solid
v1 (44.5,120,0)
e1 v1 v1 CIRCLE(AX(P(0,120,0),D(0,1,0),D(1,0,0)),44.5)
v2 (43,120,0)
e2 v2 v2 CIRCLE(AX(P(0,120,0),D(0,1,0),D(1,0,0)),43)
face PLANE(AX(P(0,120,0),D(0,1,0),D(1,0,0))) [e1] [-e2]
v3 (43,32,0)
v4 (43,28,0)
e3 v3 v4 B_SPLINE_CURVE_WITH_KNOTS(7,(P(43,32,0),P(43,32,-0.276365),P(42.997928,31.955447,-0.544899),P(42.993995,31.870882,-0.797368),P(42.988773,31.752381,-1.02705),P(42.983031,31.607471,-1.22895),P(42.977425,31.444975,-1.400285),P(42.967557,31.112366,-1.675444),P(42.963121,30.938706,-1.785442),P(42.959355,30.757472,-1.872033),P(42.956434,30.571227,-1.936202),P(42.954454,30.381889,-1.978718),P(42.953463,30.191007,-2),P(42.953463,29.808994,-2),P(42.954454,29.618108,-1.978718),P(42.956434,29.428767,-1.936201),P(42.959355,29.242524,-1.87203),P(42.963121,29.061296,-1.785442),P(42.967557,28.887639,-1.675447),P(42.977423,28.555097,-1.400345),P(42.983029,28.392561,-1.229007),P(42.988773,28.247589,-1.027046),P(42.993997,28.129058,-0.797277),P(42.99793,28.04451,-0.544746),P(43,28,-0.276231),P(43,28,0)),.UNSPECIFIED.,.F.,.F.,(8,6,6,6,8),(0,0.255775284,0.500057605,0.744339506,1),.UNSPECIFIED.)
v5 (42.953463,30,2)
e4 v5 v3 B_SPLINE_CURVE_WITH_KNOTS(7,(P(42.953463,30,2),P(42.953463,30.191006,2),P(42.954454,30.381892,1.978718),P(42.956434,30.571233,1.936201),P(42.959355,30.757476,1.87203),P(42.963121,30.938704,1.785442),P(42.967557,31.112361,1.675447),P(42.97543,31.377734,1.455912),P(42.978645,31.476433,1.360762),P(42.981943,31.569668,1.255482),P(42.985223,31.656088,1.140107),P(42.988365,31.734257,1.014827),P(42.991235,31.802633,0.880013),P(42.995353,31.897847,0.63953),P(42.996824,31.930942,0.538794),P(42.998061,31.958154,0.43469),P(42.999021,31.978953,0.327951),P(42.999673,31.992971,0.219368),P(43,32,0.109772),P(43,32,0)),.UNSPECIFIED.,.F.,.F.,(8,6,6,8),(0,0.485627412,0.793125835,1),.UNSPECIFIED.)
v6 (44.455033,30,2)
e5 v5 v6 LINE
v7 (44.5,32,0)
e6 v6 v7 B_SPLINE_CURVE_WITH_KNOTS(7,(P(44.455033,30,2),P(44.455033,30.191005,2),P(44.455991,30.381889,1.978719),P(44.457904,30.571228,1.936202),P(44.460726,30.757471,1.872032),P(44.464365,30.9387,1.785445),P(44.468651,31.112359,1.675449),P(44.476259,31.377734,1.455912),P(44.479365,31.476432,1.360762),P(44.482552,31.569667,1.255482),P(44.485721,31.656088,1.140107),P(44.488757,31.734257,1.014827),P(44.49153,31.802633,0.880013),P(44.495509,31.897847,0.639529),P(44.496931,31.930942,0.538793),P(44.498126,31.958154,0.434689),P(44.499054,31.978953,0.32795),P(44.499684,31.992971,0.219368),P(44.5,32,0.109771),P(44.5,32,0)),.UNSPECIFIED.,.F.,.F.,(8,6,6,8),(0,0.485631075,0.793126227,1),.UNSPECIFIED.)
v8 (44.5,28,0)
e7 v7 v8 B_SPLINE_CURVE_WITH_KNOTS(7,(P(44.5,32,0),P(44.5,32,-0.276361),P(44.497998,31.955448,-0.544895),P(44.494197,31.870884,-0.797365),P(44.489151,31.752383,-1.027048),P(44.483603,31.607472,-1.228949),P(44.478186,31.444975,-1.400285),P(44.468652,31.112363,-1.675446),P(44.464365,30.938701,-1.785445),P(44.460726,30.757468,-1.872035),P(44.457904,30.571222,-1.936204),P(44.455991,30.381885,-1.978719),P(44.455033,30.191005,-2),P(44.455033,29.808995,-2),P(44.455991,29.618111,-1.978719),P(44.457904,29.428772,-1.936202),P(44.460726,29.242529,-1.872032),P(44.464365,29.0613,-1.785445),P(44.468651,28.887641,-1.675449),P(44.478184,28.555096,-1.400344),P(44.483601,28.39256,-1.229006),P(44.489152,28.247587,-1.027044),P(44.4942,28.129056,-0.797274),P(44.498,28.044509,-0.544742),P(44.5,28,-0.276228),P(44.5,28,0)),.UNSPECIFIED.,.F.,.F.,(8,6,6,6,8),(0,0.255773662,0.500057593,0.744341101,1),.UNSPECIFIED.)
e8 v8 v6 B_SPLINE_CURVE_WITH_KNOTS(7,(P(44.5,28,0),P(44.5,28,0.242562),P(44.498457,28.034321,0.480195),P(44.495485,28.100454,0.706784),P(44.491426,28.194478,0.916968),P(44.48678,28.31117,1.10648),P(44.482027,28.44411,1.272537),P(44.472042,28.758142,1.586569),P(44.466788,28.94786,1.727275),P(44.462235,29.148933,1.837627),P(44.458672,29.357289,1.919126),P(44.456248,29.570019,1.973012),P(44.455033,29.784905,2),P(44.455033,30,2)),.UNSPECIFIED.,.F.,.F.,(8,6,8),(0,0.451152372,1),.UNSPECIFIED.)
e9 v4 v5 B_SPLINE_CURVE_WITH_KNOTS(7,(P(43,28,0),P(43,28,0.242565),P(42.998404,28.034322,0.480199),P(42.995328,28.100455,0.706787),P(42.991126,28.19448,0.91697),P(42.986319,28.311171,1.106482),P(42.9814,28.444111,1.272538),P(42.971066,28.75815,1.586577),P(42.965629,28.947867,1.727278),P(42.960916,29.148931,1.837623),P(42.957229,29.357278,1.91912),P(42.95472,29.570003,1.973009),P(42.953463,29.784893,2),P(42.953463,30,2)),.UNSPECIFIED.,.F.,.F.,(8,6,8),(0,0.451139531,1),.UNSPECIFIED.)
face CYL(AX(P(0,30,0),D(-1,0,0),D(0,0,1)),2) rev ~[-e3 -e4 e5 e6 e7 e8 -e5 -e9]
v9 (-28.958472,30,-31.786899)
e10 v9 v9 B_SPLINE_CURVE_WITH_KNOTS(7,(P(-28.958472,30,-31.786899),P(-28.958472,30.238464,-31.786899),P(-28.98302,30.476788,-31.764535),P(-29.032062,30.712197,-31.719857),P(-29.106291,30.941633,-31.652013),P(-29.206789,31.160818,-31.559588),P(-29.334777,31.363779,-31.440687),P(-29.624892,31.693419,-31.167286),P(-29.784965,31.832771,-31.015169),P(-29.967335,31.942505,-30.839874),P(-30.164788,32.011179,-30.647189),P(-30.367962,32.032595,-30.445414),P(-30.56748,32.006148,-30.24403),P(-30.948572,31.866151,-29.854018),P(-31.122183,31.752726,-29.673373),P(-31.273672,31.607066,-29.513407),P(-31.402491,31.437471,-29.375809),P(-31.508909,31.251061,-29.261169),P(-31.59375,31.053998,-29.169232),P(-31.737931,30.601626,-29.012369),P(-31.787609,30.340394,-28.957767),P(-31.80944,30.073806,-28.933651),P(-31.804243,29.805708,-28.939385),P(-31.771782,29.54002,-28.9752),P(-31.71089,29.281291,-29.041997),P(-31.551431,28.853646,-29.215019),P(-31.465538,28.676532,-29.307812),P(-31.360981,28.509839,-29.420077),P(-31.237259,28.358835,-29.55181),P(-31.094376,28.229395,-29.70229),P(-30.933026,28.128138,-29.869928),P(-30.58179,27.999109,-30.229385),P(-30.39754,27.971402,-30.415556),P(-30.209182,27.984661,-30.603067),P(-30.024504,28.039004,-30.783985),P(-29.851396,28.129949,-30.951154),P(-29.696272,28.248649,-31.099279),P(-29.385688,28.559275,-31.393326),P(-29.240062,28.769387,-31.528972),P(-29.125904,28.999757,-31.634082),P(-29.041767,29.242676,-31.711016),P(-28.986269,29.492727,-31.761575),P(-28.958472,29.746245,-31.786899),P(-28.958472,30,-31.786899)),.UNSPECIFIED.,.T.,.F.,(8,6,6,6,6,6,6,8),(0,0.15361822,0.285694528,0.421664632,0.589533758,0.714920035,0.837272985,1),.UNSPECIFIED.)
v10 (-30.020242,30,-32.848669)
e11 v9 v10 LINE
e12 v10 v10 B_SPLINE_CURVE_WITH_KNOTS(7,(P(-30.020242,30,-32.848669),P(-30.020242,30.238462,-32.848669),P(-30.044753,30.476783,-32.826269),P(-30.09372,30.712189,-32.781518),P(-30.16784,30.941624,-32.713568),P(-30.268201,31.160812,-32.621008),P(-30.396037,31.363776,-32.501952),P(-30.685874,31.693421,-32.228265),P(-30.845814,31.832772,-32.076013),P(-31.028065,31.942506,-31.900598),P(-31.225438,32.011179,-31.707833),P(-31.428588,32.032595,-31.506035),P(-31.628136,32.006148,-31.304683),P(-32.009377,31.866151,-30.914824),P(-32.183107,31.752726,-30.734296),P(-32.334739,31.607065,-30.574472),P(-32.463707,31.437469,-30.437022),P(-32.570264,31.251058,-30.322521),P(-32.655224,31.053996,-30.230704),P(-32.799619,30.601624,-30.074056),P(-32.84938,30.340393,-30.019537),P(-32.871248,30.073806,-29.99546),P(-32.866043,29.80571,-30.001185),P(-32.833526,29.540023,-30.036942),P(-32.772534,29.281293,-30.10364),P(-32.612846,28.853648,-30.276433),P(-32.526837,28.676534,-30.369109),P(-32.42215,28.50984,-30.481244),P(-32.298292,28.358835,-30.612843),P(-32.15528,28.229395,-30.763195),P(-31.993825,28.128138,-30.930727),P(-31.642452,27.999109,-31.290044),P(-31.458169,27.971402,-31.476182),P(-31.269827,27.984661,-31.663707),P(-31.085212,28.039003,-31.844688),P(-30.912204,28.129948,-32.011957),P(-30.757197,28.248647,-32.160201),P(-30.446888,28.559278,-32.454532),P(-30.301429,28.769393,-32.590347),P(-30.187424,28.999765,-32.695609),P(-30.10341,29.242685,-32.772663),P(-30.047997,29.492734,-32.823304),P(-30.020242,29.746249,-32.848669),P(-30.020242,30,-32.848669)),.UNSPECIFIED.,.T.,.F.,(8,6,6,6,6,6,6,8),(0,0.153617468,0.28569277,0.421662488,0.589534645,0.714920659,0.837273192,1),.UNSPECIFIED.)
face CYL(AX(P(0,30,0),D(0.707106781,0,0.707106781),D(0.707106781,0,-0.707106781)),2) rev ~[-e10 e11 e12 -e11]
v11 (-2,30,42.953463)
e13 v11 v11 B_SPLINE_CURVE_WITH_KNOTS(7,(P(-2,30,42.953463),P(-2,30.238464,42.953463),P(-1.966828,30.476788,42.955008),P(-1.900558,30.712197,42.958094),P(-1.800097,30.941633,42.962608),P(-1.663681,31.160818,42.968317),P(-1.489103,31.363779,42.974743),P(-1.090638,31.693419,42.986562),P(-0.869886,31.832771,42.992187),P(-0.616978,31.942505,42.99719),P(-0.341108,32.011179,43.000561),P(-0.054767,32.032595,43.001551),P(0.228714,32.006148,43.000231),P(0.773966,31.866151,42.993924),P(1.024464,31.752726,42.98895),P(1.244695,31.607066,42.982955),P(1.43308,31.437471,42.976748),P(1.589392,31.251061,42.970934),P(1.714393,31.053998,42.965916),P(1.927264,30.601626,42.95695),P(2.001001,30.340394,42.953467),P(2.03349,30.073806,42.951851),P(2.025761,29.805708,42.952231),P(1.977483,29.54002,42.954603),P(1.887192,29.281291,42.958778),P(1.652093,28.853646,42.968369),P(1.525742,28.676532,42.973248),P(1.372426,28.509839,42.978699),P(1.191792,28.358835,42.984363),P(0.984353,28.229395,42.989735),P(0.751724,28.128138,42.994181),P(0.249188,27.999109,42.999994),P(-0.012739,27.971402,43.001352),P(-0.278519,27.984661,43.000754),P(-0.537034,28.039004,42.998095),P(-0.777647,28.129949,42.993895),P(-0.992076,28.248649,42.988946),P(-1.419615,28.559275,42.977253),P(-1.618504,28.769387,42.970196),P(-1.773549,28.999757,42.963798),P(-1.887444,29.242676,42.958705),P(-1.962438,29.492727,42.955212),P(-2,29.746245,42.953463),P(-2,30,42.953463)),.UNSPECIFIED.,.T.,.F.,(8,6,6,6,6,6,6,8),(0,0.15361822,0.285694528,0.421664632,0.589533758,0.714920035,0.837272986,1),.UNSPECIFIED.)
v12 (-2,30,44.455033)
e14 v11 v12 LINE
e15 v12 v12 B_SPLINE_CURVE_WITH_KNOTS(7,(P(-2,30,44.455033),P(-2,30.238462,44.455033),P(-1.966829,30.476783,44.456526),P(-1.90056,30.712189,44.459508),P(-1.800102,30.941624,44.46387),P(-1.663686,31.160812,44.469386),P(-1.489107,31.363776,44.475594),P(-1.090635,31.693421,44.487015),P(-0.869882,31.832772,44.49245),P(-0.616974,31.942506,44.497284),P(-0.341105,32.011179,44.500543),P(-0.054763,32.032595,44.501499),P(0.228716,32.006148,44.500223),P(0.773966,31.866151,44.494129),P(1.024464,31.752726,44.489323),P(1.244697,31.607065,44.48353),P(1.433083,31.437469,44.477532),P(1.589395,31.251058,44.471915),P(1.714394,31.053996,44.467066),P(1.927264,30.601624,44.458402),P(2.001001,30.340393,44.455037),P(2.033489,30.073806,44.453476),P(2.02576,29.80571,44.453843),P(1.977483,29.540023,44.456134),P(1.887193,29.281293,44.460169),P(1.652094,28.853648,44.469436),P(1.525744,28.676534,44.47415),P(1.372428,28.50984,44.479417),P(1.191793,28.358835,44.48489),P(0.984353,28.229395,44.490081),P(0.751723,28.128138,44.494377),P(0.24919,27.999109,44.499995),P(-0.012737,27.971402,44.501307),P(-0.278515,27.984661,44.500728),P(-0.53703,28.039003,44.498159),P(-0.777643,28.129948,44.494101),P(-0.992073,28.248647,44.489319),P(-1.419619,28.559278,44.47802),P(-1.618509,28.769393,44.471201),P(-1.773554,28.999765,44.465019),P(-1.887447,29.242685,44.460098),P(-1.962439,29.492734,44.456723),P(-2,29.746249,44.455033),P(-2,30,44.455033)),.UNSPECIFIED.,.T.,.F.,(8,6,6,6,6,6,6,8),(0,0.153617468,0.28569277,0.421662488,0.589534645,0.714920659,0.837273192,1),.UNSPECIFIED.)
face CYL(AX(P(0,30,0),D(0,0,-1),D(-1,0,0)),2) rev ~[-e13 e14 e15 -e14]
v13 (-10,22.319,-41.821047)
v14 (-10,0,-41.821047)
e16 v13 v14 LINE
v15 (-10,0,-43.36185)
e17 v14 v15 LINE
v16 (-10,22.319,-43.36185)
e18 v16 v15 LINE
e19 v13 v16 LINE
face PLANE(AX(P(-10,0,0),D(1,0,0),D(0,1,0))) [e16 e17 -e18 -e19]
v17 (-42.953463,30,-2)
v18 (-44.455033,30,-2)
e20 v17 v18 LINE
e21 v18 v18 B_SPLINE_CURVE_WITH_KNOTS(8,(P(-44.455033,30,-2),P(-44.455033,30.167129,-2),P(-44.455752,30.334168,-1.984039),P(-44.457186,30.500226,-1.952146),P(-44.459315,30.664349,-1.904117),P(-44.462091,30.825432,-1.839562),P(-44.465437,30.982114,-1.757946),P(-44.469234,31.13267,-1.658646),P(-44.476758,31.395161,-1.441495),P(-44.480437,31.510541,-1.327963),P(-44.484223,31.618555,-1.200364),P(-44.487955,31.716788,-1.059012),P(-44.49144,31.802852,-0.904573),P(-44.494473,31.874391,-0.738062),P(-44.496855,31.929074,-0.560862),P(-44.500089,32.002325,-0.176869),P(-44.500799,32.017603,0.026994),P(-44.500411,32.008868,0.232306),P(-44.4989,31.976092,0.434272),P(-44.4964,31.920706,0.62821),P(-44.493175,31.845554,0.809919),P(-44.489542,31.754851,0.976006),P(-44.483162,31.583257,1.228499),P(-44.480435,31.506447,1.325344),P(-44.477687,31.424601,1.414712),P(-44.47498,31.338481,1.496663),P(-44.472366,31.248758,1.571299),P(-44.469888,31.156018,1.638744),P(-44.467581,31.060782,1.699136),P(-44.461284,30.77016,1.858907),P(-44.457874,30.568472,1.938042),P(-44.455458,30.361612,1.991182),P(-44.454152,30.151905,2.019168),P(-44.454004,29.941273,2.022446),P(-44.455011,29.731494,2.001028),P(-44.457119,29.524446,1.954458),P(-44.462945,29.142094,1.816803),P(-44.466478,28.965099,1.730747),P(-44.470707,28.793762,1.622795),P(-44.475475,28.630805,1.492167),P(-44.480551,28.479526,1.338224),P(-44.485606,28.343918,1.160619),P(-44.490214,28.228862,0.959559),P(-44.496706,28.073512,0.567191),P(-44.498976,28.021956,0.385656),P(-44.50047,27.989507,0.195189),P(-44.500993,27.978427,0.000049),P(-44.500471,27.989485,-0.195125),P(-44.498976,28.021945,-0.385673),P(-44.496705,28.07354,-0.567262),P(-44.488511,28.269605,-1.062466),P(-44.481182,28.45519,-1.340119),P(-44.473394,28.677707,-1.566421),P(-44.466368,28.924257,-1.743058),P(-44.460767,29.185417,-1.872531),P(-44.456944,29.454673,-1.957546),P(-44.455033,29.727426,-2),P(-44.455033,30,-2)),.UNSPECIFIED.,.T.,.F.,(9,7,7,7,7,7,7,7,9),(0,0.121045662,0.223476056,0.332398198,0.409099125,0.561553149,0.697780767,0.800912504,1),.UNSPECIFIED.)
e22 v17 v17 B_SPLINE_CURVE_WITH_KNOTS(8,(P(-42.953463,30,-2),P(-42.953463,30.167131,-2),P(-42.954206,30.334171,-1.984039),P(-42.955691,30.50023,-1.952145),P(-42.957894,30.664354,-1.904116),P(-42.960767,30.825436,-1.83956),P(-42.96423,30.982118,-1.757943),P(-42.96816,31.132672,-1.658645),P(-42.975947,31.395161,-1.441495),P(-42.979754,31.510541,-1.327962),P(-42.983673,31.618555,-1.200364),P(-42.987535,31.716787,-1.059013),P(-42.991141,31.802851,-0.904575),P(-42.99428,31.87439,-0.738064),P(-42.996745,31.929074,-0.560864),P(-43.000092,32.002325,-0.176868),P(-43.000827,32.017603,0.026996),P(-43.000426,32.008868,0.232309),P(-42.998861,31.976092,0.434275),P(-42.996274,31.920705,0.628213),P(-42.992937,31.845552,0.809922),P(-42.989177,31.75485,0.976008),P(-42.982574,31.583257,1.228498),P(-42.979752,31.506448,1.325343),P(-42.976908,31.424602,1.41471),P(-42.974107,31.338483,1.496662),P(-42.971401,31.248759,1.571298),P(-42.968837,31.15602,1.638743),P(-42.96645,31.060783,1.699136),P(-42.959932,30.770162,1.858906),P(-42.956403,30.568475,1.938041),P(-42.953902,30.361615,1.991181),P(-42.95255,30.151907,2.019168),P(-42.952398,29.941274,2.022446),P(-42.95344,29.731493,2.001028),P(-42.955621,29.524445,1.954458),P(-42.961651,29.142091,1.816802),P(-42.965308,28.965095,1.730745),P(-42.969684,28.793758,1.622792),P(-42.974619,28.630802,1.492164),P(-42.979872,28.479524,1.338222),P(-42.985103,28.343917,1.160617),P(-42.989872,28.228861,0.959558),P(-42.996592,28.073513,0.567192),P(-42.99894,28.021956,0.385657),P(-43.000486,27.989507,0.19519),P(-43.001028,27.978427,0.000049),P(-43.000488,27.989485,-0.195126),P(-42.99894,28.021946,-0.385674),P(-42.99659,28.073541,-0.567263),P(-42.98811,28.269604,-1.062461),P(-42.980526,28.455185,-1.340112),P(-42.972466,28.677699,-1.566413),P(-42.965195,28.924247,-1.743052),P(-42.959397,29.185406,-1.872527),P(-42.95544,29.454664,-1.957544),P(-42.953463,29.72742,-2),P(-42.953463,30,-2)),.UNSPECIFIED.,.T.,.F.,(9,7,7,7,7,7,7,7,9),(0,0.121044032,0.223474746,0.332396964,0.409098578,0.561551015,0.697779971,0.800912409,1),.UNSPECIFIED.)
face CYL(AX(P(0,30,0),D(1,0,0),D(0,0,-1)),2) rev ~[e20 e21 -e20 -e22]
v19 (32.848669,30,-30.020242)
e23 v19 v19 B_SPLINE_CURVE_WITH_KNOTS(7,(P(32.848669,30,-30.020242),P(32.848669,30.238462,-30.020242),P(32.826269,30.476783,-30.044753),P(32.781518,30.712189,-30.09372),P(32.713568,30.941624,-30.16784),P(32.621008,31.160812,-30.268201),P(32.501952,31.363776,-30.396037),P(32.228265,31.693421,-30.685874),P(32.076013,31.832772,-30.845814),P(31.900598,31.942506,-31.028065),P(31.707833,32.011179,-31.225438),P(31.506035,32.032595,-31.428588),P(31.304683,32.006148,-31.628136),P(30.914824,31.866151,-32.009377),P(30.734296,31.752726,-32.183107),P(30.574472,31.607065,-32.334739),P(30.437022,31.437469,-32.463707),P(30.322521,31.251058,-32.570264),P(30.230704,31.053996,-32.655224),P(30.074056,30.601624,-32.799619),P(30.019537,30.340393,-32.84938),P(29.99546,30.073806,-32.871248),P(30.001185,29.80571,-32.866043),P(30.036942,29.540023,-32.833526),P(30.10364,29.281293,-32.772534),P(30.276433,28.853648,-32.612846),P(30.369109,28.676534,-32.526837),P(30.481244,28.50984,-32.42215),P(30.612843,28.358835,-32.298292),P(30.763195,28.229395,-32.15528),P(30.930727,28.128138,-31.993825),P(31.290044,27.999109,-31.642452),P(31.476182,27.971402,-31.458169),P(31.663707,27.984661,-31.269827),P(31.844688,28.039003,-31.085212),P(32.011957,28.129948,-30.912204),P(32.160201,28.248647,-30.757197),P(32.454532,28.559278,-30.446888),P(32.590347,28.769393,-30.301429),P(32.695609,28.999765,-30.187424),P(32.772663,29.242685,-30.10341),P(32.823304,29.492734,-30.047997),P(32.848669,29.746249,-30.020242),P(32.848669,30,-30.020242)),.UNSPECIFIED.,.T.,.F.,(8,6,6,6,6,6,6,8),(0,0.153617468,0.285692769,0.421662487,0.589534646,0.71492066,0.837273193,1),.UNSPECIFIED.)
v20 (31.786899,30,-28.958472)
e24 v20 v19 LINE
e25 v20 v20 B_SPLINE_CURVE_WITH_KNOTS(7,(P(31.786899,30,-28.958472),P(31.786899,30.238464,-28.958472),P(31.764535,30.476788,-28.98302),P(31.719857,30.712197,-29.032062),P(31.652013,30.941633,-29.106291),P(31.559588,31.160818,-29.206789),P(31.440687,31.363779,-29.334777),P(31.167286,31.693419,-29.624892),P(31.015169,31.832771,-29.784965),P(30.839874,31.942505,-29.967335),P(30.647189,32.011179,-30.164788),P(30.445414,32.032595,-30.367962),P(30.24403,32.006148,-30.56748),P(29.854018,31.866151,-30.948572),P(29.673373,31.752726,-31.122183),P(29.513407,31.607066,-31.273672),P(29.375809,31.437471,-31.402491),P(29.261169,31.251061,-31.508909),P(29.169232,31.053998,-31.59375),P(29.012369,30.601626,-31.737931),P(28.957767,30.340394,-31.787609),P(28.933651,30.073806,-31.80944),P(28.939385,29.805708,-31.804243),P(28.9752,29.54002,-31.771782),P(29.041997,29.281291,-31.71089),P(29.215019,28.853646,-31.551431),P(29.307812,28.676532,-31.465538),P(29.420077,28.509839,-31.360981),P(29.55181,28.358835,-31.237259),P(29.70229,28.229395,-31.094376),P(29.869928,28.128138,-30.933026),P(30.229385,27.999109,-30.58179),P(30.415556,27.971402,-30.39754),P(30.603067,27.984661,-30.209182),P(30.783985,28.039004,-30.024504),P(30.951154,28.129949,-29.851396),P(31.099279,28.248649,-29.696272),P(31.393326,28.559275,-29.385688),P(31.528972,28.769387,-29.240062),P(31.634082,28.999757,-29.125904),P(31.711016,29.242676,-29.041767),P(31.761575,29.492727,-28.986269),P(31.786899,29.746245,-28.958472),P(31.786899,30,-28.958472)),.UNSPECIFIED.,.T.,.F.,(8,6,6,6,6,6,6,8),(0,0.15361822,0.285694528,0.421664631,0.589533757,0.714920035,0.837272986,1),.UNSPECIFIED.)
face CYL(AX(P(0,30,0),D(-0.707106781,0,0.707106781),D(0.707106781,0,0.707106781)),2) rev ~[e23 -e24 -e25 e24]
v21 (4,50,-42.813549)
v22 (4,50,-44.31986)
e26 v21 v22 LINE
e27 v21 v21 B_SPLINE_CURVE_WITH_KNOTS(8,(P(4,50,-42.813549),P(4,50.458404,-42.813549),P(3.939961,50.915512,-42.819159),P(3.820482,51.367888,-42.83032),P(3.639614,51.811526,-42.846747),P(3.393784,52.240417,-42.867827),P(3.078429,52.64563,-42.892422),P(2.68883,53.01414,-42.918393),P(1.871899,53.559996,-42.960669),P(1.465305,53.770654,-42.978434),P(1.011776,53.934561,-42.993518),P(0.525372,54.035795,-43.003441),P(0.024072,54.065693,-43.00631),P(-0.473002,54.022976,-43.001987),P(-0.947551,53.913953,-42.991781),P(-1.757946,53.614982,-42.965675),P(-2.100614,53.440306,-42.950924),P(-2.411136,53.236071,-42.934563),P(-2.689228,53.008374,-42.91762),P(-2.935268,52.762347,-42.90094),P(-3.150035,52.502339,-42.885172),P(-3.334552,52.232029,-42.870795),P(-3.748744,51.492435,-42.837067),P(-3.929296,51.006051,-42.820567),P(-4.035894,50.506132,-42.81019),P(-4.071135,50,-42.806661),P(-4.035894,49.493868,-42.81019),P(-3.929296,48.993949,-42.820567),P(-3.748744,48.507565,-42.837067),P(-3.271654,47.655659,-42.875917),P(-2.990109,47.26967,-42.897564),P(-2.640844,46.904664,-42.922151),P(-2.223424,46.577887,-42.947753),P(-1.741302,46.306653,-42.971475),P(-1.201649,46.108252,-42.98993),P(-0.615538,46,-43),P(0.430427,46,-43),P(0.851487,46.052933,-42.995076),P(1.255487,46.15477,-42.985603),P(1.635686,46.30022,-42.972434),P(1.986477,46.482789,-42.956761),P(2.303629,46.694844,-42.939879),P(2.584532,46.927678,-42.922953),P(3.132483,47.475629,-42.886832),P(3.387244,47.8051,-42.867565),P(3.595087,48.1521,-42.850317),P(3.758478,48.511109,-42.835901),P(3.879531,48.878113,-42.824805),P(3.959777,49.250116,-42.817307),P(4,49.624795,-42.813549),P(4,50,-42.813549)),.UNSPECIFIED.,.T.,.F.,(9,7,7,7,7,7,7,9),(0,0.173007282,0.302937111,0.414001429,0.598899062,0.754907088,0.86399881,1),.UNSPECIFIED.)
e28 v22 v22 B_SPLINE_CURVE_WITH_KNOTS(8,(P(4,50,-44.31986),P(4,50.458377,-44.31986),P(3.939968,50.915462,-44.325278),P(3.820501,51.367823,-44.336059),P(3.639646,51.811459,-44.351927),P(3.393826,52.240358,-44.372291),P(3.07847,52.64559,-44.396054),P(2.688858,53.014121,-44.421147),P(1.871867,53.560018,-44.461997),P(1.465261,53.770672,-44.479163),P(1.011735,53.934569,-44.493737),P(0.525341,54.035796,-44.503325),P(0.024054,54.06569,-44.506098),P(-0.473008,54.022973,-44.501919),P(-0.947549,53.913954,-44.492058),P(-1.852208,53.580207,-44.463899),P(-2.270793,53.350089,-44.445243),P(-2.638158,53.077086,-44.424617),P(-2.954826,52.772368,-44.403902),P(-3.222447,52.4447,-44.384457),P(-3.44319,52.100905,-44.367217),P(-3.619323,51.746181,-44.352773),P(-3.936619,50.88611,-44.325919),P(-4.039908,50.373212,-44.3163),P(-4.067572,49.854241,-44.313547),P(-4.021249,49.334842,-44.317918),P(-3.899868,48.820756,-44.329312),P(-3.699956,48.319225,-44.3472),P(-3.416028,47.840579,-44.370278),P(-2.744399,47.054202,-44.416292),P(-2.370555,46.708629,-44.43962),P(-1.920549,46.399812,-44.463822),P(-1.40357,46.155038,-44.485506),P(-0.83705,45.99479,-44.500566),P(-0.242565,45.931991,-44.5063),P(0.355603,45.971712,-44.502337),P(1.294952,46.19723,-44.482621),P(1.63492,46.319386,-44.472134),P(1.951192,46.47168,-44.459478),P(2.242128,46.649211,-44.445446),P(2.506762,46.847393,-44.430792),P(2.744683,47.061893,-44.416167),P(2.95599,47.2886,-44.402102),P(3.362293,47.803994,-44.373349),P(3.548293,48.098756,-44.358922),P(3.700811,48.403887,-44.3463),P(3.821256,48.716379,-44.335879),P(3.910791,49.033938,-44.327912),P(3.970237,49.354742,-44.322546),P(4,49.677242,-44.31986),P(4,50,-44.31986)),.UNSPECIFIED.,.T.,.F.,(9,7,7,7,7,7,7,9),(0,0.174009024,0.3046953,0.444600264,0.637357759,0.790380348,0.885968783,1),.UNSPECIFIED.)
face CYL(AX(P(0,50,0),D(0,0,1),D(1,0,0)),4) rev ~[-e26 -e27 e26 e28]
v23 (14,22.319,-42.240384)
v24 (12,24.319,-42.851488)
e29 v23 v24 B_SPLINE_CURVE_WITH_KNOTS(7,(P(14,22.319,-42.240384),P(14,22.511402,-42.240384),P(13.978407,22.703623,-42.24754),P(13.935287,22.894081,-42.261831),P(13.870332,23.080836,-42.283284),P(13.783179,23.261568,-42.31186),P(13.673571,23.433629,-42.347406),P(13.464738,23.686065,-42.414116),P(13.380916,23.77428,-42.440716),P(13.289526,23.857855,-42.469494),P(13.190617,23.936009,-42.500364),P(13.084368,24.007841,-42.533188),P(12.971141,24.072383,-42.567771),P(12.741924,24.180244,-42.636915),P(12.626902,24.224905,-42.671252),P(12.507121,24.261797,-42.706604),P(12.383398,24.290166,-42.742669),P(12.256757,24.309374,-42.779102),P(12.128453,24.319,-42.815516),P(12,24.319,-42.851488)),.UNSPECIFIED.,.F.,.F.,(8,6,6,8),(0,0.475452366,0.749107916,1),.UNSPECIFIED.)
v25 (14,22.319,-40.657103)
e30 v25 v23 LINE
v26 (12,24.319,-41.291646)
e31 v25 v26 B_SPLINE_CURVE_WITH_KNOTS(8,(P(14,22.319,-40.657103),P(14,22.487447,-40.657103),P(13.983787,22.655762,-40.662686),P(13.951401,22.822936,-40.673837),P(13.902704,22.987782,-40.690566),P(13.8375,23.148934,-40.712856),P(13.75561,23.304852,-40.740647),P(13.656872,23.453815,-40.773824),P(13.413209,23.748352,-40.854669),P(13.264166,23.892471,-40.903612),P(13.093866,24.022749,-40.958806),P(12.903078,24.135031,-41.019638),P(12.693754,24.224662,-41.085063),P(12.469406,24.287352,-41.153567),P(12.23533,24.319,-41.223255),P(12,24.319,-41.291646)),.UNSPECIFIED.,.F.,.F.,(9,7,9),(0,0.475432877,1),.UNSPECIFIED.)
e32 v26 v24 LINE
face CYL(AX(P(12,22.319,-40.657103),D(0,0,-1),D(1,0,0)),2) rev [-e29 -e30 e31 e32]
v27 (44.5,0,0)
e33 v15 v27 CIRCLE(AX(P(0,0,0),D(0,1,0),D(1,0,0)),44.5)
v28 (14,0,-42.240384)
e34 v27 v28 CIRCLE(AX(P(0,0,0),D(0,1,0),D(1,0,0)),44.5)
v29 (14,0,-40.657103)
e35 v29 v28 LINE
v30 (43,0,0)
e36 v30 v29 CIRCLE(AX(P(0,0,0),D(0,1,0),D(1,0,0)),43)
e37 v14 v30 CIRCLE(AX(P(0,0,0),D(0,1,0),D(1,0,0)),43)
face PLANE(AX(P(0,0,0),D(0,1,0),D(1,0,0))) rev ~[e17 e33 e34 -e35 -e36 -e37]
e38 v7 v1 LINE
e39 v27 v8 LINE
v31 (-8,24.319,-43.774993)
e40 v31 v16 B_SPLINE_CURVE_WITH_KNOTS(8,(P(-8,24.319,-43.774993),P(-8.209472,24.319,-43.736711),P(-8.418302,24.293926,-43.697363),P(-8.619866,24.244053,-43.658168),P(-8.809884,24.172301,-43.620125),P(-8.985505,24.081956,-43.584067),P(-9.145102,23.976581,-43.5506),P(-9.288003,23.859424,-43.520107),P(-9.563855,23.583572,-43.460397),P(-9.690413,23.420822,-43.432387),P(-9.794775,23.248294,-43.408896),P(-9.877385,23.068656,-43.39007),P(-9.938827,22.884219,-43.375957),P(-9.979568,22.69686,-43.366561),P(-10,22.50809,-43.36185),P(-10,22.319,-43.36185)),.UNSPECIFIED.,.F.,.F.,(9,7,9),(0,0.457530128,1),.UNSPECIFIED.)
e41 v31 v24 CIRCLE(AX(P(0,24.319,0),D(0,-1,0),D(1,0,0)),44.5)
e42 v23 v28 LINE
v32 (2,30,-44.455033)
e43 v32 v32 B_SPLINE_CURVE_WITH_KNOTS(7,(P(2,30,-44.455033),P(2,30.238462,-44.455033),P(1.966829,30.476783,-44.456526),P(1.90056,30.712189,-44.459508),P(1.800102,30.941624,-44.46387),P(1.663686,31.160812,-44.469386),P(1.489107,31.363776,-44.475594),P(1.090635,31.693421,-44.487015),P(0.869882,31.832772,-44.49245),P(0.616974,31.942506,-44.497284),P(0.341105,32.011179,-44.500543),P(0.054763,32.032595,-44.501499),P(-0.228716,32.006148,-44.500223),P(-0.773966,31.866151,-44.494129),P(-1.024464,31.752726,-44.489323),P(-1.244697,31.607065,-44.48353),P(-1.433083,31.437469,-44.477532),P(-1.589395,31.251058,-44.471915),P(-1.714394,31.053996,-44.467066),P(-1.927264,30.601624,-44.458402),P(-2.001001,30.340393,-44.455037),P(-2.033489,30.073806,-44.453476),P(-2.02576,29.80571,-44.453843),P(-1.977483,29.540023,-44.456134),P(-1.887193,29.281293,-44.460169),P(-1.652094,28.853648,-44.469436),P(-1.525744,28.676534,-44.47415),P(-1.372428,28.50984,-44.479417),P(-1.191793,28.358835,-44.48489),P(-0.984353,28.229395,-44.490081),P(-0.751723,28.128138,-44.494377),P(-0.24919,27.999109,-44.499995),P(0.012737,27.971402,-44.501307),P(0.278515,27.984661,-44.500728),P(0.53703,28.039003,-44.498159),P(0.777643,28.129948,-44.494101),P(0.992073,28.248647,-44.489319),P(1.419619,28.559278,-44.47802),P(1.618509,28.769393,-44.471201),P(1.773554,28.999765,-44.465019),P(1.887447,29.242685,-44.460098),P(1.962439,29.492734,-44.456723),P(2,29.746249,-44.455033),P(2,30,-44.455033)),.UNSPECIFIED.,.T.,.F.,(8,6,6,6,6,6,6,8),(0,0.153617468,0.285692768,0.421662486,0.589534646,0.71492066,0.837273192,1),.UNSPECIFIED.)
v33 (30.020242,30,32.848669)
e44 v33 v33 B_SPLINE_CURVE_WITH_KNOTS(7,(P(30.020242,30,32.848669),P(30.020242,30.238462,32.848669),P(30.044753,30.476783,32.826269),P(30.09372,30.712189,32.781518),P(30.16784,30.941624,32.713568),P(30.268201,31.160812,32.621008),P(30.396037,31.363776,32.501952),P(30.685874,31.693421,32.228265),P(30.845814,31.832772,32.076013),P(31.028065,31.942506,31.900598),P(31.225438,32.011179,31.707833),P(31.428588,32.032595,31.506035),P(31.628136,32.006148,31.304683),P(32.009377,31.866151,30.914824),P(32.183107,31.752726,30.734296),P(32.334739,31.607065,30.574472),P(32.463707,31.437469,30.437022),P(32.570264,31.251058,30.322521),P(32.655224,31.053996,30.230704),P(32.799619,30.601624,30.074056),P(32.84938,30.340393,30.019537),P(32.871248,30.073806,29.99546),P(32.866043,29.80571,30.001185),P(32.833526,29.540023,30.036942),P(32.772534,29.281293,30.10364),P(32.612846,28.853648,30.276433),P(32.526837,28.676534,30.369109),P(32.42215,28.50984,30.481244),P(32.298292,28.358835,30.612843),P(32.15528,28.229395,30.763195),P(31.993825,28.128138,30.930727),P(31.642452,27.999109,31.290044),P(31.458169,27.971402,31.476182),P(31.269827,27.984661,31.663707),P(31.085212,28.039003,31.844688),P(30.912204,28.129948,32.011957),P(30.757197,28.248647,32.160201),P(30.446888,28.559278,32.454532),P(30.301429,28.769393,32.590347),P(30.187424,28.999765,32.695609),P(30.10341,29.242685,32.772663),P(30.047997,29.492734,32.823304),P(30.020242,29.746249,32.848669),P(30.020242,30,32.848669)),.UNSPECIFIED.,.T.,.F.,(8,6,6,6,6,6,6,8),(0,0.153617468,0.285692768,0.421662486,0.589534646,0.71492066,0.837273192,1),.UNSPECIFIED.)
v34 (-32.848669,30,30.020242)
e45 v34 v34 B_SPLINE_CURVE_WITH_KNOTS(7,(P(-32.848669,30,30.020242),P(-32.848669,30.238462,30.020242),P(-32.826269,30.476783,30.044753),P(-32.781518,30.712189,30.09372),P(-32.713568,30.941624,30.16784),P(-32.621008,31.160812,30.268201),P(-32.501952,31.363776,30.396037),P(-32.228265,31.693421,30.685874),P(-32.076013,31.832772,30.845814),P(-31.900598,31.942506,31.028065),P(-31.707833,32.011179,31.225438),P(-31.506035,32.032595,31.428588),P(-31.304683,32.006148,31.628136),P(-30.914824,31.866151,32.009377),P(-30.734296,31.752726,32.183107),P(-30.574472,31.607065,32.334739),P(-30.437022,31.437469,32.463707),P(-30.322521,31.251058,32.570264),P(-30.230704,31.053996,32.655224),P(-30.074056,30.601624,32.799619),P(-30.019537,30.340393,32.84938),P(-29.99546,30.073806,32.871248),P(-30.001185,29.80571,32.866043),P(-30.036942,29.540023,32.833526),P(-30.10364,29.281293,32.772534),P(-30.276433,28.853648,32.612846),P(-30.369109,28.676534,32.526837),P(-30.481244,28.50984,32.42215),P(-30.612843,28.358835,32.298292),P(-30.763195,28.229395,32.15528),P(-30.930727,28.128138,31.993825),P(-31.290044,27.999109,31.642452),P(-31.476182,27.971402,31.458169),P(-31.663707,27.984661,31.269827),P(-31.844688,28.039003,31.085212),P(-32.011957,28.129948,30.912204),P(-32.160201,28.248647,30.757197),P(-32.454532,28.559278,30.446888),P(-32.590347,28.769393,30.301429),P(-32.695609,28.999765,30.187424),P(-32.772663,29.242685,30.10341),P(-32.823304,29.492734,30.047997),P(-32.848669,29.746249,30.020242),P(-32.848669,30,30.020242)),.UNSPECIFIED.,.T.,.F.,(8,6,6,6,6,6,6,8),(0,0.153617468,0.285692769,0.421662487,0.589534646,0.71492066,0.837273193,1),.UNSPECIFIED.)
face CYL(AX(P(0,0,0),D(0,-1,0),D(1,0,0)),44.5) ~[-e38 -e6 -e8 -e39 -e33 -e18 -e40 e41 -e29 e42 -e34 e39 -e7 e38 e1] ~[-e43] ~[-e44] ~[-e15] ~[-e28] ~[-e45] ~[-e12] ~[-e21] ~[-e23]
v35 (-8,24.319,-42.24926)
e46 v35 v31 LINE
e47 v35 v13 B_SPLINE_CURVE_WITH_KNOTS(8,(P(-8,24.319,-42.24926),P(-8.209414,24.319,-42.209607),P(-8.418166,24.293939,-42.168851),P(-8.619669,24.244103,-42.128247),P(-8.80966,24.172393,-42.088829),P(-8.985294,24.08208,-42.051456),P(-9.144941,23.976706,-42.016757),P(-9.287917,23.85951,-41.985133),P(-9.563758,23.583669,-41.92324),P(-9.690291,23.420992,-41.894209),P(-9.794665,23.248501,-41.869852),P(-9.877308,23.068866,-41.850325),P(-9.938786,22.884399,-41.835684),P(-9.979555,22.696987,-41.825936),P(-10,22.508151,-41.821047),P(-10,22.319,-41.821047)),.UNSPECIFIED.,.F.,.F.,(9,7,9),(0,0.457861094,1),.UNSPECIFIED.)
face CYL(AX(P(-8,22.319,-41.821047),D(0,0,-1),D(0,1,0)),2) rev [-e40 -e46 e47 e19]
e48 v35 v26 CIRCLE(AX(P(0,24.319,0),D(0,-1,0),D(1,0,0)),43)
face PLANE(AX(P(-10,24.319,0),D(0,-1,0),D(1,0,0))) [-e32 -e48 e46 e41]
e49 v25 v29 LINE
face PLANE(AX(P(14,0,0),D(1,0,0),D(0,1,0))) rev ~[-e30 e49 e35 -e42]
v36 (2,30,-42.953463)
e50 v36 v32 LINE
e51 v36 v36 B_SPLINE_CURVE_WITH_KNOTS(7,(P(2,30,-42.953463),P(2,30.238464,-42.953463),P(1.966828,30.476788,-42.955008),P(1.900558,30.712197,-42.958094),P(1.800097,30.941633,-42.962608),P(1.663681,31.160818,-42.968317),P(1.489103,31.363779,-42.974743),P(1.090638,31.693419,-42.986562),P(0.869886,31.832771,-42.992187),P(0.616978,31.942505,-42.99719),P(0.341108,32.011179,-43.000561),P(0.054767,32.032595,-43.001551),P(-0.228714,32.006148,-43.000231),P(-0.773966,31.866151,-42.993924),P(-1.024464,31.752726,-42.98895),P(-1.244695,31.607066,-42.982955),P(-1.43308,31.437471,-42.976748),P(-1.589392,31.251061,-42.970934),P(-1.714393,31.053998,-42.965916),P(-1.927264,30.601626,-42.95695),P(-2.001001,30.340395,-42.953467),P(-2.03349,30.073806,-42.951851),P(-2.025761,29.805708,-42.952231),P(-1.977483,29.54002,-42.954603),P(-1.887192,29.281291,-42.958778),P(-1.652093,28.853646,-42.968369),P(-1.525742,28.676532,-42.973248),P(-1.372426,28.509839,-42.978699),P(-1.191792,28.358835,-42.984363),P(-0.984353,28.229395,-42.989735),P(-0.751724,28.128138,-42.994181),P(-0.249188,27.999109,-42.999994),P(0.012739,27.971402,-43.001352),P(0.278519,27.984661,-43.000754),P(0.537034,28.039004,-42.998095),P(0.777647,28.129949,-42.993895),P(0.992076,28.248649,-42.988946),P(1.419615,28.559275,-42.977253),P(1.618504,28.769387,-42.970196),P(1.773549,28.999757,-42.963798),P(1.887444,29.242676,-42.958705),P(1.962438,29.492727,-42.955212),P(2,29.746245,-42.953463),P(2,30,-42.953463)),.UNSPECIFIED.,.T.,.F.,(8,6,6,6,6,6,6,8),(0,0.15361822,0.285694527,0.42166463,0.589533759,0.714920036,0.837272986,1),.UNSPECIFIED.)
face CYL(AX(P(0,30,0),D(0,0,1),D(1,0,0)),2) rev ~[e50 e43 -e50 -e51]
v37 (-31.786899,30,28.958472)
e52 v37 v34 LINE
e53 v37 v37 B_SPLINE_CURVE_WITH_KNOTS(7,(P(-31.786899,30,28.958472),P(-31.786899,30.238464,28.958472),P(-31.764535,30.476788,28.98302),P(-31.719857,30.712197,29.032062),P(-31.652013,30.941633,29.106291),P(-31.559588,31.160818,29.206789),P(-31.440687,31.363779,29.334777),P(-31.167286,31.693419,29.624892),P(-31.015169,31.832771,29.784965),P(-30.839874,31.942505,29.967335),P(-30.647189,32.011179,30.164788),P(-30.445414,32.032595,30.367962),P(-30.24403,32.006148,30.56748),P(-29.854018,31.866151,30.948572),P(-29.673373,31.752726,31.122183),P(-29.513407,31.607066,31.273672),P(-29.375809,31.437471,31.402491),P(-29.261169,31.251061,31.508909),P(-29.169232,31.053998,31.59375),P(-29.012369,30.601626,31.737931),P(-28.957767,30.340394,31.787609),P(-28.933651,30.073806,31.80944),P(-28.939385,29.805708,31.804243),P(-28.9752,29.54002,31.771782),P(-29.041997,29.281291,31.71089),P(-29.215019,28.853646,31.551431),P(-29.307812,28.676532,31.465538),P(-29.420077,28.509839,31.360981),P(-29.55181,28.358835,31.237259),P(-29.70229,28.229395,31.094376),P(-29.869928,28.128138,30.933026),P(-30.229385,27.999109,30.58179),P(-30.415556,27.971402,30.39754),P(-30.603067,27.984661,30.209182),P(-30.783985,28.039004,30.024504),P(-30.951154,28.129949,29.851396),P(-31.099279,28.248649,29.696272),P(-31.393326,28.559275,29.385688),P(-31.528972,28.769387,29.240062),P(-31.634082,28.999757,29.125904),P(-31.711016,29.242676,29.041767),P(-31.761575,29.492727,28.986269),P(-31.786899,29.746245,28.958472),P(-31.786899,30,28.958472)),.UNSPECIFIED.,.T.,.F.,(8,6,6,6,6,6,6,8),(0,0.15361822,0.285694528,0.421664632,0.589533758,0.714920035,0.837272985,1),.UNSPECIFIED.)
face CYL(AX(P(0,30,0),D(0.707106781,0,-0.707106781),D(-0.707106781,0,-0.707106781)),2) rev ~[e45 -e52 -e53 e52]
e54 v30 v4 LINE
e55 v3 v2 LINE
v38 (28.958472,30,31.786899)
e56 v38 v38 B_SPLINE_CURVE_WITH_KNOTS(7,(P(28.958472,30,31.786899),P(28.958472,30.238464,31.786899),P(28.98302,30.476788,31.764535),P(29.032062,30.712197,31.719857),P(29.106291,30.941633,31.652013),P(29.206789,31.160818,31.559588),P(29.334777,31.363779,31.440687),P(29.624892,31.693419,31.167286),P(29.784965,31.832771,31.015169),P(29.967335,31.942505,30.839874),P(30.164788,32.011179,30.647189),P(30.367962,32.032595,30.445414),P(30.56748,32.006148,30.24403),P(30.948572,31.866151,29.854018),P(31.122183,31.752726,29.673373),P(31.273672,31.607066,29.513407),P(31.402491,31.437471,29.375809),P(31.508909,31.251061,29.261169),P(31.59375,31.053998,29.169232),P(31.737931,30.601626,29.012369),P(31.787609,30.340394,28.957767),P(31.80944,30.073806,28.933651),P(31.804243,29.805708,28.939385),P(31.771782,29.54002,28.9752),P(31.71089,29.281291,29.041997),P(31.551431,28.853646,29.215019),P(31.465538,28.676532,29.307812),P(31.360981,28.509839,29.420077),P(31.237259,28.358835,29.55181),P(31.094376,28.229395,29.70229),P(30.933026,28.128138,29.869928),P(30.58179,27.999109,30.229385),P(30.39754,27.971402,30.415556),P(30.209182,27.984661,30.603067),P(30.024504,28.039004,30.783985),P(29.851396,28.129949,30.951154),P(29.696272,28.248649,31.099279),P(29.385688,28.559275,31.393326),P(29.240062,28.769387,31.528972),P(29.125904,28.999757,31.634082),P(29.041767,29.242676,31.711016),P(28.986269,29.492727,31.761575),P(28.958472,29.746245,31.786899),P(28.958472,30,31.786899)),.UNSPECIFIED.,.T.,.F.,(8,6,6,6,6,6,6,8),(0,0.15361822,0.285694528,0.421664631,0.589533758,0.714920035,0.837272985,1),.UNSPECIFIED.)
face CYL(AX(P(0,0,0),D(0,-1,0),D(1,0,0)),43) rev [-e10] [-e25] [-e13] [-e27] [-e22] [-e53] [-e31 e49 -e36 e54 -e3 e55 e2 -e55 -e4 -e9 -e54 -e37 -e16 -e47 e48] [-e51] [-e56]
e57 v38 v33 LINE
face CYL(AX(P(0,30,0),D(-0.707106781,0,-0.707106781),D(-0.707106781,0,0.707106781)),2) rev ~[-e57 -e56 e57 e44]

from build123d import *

# Parameters (mm, degrees)
SKIZZE1_R                       = 44.5
SKIZZE1_R_2                     = 43
AUFSATZ_LINEAR_AUSTRAGEN1_DEPTH = 120
SKIZZE2_R                       = 4
SCHNITT_LINEAR_AUSTRAGEN1_DEPTH = 45.5
SKIZZE3_R                       = 2
SCHNITT_LINEAR_AUSTRAGEN2_DEPTH = 45.5000001
KREISMUSTER1_COUNT              = 8
SKIZZE4_W                       = 24
SKIZZE4_H                       = 24.318999769
SCHNITT_LINEAR_AUSTRAGEN3_DEPTH = 45.50000012
VERRUNDUNG1_R                   = 2


with BuildPart() as part:
    # Skizze1 → Aufsatz-Linear austragen1 (new body)
    with BuildSketch(Plane(origin=(0, 0, 0), x_dir=(1, 0, 0), z_dir=(0, 1, 0))):
        Circle(SKIZZE1_R)
        Circle(SKIZZE1_R_2, mode=Mode.SUBTRACT)
    extrude(amount=AUFSATZ_LINEAR_AUSTRAGEN1_DEPTH)

    # Skizze2 → Schnitt-Linear austragen1 (cut, through all)
    with BuildSketch(Plane.XY):
        with Locations((0, 50)):
            Circle(SKIZZE2_R)
    extrude(amount=-SCHNITT_LINEAR_AUSTRAGEN1_DEPTH, mode=Mode.SUBTRACT)

    # Skizze3 → Schnitt-Linear austragen2 (cut, through all)
    with BuildSketch(Plane.XY):
        with Locations((0, 30)):
            Circle(SKIZZE3_R)
    schnitt_linear_austragen2 = extrude(amount=-SCHNITT_LINEAR_AUSTRAGEN2_DEPTH, mode=Mode.SUBTRACT)

    # Kreismuster1: Schnitt-Linear austragen2 ×8 about axis
    kreismuster1_axis = Axis((0, 120, 0), (0, -1, 0))
    for i in range(1, KREISMUSTER1_COUNT):
        add(schnitt_linear_austragen2.rotate(kreismuster1_axis, i * 360 / KREISMUSTER1_COUNT), mode=Mode.SUBTRACT)

    # Skizze4 → Schnitt-Linear austragen3 (cut, through all)
    with BuildSketch(Plane.XY):
        with Locations((2, 12.159499885)):
            Rectangle(SKIZZE4_W, SKIZZE4_H)
    extrude(amount=-SCHNITT_LINEAR_AUSTRAGEN3_DEPTH, mode=Mode.SUBTRACT)

    # Verrundung1
    verrundung1_edges = [part.edges().sort_by_distance(p)[0] for p in [
        (-10, 24.318999769, -42.591448462),
        (14, 24.318999769, -41.448743111),
    ]]
    fillet(verrundung1_edges, radius=VERRUNDUNG1_R)


solid = part.part
